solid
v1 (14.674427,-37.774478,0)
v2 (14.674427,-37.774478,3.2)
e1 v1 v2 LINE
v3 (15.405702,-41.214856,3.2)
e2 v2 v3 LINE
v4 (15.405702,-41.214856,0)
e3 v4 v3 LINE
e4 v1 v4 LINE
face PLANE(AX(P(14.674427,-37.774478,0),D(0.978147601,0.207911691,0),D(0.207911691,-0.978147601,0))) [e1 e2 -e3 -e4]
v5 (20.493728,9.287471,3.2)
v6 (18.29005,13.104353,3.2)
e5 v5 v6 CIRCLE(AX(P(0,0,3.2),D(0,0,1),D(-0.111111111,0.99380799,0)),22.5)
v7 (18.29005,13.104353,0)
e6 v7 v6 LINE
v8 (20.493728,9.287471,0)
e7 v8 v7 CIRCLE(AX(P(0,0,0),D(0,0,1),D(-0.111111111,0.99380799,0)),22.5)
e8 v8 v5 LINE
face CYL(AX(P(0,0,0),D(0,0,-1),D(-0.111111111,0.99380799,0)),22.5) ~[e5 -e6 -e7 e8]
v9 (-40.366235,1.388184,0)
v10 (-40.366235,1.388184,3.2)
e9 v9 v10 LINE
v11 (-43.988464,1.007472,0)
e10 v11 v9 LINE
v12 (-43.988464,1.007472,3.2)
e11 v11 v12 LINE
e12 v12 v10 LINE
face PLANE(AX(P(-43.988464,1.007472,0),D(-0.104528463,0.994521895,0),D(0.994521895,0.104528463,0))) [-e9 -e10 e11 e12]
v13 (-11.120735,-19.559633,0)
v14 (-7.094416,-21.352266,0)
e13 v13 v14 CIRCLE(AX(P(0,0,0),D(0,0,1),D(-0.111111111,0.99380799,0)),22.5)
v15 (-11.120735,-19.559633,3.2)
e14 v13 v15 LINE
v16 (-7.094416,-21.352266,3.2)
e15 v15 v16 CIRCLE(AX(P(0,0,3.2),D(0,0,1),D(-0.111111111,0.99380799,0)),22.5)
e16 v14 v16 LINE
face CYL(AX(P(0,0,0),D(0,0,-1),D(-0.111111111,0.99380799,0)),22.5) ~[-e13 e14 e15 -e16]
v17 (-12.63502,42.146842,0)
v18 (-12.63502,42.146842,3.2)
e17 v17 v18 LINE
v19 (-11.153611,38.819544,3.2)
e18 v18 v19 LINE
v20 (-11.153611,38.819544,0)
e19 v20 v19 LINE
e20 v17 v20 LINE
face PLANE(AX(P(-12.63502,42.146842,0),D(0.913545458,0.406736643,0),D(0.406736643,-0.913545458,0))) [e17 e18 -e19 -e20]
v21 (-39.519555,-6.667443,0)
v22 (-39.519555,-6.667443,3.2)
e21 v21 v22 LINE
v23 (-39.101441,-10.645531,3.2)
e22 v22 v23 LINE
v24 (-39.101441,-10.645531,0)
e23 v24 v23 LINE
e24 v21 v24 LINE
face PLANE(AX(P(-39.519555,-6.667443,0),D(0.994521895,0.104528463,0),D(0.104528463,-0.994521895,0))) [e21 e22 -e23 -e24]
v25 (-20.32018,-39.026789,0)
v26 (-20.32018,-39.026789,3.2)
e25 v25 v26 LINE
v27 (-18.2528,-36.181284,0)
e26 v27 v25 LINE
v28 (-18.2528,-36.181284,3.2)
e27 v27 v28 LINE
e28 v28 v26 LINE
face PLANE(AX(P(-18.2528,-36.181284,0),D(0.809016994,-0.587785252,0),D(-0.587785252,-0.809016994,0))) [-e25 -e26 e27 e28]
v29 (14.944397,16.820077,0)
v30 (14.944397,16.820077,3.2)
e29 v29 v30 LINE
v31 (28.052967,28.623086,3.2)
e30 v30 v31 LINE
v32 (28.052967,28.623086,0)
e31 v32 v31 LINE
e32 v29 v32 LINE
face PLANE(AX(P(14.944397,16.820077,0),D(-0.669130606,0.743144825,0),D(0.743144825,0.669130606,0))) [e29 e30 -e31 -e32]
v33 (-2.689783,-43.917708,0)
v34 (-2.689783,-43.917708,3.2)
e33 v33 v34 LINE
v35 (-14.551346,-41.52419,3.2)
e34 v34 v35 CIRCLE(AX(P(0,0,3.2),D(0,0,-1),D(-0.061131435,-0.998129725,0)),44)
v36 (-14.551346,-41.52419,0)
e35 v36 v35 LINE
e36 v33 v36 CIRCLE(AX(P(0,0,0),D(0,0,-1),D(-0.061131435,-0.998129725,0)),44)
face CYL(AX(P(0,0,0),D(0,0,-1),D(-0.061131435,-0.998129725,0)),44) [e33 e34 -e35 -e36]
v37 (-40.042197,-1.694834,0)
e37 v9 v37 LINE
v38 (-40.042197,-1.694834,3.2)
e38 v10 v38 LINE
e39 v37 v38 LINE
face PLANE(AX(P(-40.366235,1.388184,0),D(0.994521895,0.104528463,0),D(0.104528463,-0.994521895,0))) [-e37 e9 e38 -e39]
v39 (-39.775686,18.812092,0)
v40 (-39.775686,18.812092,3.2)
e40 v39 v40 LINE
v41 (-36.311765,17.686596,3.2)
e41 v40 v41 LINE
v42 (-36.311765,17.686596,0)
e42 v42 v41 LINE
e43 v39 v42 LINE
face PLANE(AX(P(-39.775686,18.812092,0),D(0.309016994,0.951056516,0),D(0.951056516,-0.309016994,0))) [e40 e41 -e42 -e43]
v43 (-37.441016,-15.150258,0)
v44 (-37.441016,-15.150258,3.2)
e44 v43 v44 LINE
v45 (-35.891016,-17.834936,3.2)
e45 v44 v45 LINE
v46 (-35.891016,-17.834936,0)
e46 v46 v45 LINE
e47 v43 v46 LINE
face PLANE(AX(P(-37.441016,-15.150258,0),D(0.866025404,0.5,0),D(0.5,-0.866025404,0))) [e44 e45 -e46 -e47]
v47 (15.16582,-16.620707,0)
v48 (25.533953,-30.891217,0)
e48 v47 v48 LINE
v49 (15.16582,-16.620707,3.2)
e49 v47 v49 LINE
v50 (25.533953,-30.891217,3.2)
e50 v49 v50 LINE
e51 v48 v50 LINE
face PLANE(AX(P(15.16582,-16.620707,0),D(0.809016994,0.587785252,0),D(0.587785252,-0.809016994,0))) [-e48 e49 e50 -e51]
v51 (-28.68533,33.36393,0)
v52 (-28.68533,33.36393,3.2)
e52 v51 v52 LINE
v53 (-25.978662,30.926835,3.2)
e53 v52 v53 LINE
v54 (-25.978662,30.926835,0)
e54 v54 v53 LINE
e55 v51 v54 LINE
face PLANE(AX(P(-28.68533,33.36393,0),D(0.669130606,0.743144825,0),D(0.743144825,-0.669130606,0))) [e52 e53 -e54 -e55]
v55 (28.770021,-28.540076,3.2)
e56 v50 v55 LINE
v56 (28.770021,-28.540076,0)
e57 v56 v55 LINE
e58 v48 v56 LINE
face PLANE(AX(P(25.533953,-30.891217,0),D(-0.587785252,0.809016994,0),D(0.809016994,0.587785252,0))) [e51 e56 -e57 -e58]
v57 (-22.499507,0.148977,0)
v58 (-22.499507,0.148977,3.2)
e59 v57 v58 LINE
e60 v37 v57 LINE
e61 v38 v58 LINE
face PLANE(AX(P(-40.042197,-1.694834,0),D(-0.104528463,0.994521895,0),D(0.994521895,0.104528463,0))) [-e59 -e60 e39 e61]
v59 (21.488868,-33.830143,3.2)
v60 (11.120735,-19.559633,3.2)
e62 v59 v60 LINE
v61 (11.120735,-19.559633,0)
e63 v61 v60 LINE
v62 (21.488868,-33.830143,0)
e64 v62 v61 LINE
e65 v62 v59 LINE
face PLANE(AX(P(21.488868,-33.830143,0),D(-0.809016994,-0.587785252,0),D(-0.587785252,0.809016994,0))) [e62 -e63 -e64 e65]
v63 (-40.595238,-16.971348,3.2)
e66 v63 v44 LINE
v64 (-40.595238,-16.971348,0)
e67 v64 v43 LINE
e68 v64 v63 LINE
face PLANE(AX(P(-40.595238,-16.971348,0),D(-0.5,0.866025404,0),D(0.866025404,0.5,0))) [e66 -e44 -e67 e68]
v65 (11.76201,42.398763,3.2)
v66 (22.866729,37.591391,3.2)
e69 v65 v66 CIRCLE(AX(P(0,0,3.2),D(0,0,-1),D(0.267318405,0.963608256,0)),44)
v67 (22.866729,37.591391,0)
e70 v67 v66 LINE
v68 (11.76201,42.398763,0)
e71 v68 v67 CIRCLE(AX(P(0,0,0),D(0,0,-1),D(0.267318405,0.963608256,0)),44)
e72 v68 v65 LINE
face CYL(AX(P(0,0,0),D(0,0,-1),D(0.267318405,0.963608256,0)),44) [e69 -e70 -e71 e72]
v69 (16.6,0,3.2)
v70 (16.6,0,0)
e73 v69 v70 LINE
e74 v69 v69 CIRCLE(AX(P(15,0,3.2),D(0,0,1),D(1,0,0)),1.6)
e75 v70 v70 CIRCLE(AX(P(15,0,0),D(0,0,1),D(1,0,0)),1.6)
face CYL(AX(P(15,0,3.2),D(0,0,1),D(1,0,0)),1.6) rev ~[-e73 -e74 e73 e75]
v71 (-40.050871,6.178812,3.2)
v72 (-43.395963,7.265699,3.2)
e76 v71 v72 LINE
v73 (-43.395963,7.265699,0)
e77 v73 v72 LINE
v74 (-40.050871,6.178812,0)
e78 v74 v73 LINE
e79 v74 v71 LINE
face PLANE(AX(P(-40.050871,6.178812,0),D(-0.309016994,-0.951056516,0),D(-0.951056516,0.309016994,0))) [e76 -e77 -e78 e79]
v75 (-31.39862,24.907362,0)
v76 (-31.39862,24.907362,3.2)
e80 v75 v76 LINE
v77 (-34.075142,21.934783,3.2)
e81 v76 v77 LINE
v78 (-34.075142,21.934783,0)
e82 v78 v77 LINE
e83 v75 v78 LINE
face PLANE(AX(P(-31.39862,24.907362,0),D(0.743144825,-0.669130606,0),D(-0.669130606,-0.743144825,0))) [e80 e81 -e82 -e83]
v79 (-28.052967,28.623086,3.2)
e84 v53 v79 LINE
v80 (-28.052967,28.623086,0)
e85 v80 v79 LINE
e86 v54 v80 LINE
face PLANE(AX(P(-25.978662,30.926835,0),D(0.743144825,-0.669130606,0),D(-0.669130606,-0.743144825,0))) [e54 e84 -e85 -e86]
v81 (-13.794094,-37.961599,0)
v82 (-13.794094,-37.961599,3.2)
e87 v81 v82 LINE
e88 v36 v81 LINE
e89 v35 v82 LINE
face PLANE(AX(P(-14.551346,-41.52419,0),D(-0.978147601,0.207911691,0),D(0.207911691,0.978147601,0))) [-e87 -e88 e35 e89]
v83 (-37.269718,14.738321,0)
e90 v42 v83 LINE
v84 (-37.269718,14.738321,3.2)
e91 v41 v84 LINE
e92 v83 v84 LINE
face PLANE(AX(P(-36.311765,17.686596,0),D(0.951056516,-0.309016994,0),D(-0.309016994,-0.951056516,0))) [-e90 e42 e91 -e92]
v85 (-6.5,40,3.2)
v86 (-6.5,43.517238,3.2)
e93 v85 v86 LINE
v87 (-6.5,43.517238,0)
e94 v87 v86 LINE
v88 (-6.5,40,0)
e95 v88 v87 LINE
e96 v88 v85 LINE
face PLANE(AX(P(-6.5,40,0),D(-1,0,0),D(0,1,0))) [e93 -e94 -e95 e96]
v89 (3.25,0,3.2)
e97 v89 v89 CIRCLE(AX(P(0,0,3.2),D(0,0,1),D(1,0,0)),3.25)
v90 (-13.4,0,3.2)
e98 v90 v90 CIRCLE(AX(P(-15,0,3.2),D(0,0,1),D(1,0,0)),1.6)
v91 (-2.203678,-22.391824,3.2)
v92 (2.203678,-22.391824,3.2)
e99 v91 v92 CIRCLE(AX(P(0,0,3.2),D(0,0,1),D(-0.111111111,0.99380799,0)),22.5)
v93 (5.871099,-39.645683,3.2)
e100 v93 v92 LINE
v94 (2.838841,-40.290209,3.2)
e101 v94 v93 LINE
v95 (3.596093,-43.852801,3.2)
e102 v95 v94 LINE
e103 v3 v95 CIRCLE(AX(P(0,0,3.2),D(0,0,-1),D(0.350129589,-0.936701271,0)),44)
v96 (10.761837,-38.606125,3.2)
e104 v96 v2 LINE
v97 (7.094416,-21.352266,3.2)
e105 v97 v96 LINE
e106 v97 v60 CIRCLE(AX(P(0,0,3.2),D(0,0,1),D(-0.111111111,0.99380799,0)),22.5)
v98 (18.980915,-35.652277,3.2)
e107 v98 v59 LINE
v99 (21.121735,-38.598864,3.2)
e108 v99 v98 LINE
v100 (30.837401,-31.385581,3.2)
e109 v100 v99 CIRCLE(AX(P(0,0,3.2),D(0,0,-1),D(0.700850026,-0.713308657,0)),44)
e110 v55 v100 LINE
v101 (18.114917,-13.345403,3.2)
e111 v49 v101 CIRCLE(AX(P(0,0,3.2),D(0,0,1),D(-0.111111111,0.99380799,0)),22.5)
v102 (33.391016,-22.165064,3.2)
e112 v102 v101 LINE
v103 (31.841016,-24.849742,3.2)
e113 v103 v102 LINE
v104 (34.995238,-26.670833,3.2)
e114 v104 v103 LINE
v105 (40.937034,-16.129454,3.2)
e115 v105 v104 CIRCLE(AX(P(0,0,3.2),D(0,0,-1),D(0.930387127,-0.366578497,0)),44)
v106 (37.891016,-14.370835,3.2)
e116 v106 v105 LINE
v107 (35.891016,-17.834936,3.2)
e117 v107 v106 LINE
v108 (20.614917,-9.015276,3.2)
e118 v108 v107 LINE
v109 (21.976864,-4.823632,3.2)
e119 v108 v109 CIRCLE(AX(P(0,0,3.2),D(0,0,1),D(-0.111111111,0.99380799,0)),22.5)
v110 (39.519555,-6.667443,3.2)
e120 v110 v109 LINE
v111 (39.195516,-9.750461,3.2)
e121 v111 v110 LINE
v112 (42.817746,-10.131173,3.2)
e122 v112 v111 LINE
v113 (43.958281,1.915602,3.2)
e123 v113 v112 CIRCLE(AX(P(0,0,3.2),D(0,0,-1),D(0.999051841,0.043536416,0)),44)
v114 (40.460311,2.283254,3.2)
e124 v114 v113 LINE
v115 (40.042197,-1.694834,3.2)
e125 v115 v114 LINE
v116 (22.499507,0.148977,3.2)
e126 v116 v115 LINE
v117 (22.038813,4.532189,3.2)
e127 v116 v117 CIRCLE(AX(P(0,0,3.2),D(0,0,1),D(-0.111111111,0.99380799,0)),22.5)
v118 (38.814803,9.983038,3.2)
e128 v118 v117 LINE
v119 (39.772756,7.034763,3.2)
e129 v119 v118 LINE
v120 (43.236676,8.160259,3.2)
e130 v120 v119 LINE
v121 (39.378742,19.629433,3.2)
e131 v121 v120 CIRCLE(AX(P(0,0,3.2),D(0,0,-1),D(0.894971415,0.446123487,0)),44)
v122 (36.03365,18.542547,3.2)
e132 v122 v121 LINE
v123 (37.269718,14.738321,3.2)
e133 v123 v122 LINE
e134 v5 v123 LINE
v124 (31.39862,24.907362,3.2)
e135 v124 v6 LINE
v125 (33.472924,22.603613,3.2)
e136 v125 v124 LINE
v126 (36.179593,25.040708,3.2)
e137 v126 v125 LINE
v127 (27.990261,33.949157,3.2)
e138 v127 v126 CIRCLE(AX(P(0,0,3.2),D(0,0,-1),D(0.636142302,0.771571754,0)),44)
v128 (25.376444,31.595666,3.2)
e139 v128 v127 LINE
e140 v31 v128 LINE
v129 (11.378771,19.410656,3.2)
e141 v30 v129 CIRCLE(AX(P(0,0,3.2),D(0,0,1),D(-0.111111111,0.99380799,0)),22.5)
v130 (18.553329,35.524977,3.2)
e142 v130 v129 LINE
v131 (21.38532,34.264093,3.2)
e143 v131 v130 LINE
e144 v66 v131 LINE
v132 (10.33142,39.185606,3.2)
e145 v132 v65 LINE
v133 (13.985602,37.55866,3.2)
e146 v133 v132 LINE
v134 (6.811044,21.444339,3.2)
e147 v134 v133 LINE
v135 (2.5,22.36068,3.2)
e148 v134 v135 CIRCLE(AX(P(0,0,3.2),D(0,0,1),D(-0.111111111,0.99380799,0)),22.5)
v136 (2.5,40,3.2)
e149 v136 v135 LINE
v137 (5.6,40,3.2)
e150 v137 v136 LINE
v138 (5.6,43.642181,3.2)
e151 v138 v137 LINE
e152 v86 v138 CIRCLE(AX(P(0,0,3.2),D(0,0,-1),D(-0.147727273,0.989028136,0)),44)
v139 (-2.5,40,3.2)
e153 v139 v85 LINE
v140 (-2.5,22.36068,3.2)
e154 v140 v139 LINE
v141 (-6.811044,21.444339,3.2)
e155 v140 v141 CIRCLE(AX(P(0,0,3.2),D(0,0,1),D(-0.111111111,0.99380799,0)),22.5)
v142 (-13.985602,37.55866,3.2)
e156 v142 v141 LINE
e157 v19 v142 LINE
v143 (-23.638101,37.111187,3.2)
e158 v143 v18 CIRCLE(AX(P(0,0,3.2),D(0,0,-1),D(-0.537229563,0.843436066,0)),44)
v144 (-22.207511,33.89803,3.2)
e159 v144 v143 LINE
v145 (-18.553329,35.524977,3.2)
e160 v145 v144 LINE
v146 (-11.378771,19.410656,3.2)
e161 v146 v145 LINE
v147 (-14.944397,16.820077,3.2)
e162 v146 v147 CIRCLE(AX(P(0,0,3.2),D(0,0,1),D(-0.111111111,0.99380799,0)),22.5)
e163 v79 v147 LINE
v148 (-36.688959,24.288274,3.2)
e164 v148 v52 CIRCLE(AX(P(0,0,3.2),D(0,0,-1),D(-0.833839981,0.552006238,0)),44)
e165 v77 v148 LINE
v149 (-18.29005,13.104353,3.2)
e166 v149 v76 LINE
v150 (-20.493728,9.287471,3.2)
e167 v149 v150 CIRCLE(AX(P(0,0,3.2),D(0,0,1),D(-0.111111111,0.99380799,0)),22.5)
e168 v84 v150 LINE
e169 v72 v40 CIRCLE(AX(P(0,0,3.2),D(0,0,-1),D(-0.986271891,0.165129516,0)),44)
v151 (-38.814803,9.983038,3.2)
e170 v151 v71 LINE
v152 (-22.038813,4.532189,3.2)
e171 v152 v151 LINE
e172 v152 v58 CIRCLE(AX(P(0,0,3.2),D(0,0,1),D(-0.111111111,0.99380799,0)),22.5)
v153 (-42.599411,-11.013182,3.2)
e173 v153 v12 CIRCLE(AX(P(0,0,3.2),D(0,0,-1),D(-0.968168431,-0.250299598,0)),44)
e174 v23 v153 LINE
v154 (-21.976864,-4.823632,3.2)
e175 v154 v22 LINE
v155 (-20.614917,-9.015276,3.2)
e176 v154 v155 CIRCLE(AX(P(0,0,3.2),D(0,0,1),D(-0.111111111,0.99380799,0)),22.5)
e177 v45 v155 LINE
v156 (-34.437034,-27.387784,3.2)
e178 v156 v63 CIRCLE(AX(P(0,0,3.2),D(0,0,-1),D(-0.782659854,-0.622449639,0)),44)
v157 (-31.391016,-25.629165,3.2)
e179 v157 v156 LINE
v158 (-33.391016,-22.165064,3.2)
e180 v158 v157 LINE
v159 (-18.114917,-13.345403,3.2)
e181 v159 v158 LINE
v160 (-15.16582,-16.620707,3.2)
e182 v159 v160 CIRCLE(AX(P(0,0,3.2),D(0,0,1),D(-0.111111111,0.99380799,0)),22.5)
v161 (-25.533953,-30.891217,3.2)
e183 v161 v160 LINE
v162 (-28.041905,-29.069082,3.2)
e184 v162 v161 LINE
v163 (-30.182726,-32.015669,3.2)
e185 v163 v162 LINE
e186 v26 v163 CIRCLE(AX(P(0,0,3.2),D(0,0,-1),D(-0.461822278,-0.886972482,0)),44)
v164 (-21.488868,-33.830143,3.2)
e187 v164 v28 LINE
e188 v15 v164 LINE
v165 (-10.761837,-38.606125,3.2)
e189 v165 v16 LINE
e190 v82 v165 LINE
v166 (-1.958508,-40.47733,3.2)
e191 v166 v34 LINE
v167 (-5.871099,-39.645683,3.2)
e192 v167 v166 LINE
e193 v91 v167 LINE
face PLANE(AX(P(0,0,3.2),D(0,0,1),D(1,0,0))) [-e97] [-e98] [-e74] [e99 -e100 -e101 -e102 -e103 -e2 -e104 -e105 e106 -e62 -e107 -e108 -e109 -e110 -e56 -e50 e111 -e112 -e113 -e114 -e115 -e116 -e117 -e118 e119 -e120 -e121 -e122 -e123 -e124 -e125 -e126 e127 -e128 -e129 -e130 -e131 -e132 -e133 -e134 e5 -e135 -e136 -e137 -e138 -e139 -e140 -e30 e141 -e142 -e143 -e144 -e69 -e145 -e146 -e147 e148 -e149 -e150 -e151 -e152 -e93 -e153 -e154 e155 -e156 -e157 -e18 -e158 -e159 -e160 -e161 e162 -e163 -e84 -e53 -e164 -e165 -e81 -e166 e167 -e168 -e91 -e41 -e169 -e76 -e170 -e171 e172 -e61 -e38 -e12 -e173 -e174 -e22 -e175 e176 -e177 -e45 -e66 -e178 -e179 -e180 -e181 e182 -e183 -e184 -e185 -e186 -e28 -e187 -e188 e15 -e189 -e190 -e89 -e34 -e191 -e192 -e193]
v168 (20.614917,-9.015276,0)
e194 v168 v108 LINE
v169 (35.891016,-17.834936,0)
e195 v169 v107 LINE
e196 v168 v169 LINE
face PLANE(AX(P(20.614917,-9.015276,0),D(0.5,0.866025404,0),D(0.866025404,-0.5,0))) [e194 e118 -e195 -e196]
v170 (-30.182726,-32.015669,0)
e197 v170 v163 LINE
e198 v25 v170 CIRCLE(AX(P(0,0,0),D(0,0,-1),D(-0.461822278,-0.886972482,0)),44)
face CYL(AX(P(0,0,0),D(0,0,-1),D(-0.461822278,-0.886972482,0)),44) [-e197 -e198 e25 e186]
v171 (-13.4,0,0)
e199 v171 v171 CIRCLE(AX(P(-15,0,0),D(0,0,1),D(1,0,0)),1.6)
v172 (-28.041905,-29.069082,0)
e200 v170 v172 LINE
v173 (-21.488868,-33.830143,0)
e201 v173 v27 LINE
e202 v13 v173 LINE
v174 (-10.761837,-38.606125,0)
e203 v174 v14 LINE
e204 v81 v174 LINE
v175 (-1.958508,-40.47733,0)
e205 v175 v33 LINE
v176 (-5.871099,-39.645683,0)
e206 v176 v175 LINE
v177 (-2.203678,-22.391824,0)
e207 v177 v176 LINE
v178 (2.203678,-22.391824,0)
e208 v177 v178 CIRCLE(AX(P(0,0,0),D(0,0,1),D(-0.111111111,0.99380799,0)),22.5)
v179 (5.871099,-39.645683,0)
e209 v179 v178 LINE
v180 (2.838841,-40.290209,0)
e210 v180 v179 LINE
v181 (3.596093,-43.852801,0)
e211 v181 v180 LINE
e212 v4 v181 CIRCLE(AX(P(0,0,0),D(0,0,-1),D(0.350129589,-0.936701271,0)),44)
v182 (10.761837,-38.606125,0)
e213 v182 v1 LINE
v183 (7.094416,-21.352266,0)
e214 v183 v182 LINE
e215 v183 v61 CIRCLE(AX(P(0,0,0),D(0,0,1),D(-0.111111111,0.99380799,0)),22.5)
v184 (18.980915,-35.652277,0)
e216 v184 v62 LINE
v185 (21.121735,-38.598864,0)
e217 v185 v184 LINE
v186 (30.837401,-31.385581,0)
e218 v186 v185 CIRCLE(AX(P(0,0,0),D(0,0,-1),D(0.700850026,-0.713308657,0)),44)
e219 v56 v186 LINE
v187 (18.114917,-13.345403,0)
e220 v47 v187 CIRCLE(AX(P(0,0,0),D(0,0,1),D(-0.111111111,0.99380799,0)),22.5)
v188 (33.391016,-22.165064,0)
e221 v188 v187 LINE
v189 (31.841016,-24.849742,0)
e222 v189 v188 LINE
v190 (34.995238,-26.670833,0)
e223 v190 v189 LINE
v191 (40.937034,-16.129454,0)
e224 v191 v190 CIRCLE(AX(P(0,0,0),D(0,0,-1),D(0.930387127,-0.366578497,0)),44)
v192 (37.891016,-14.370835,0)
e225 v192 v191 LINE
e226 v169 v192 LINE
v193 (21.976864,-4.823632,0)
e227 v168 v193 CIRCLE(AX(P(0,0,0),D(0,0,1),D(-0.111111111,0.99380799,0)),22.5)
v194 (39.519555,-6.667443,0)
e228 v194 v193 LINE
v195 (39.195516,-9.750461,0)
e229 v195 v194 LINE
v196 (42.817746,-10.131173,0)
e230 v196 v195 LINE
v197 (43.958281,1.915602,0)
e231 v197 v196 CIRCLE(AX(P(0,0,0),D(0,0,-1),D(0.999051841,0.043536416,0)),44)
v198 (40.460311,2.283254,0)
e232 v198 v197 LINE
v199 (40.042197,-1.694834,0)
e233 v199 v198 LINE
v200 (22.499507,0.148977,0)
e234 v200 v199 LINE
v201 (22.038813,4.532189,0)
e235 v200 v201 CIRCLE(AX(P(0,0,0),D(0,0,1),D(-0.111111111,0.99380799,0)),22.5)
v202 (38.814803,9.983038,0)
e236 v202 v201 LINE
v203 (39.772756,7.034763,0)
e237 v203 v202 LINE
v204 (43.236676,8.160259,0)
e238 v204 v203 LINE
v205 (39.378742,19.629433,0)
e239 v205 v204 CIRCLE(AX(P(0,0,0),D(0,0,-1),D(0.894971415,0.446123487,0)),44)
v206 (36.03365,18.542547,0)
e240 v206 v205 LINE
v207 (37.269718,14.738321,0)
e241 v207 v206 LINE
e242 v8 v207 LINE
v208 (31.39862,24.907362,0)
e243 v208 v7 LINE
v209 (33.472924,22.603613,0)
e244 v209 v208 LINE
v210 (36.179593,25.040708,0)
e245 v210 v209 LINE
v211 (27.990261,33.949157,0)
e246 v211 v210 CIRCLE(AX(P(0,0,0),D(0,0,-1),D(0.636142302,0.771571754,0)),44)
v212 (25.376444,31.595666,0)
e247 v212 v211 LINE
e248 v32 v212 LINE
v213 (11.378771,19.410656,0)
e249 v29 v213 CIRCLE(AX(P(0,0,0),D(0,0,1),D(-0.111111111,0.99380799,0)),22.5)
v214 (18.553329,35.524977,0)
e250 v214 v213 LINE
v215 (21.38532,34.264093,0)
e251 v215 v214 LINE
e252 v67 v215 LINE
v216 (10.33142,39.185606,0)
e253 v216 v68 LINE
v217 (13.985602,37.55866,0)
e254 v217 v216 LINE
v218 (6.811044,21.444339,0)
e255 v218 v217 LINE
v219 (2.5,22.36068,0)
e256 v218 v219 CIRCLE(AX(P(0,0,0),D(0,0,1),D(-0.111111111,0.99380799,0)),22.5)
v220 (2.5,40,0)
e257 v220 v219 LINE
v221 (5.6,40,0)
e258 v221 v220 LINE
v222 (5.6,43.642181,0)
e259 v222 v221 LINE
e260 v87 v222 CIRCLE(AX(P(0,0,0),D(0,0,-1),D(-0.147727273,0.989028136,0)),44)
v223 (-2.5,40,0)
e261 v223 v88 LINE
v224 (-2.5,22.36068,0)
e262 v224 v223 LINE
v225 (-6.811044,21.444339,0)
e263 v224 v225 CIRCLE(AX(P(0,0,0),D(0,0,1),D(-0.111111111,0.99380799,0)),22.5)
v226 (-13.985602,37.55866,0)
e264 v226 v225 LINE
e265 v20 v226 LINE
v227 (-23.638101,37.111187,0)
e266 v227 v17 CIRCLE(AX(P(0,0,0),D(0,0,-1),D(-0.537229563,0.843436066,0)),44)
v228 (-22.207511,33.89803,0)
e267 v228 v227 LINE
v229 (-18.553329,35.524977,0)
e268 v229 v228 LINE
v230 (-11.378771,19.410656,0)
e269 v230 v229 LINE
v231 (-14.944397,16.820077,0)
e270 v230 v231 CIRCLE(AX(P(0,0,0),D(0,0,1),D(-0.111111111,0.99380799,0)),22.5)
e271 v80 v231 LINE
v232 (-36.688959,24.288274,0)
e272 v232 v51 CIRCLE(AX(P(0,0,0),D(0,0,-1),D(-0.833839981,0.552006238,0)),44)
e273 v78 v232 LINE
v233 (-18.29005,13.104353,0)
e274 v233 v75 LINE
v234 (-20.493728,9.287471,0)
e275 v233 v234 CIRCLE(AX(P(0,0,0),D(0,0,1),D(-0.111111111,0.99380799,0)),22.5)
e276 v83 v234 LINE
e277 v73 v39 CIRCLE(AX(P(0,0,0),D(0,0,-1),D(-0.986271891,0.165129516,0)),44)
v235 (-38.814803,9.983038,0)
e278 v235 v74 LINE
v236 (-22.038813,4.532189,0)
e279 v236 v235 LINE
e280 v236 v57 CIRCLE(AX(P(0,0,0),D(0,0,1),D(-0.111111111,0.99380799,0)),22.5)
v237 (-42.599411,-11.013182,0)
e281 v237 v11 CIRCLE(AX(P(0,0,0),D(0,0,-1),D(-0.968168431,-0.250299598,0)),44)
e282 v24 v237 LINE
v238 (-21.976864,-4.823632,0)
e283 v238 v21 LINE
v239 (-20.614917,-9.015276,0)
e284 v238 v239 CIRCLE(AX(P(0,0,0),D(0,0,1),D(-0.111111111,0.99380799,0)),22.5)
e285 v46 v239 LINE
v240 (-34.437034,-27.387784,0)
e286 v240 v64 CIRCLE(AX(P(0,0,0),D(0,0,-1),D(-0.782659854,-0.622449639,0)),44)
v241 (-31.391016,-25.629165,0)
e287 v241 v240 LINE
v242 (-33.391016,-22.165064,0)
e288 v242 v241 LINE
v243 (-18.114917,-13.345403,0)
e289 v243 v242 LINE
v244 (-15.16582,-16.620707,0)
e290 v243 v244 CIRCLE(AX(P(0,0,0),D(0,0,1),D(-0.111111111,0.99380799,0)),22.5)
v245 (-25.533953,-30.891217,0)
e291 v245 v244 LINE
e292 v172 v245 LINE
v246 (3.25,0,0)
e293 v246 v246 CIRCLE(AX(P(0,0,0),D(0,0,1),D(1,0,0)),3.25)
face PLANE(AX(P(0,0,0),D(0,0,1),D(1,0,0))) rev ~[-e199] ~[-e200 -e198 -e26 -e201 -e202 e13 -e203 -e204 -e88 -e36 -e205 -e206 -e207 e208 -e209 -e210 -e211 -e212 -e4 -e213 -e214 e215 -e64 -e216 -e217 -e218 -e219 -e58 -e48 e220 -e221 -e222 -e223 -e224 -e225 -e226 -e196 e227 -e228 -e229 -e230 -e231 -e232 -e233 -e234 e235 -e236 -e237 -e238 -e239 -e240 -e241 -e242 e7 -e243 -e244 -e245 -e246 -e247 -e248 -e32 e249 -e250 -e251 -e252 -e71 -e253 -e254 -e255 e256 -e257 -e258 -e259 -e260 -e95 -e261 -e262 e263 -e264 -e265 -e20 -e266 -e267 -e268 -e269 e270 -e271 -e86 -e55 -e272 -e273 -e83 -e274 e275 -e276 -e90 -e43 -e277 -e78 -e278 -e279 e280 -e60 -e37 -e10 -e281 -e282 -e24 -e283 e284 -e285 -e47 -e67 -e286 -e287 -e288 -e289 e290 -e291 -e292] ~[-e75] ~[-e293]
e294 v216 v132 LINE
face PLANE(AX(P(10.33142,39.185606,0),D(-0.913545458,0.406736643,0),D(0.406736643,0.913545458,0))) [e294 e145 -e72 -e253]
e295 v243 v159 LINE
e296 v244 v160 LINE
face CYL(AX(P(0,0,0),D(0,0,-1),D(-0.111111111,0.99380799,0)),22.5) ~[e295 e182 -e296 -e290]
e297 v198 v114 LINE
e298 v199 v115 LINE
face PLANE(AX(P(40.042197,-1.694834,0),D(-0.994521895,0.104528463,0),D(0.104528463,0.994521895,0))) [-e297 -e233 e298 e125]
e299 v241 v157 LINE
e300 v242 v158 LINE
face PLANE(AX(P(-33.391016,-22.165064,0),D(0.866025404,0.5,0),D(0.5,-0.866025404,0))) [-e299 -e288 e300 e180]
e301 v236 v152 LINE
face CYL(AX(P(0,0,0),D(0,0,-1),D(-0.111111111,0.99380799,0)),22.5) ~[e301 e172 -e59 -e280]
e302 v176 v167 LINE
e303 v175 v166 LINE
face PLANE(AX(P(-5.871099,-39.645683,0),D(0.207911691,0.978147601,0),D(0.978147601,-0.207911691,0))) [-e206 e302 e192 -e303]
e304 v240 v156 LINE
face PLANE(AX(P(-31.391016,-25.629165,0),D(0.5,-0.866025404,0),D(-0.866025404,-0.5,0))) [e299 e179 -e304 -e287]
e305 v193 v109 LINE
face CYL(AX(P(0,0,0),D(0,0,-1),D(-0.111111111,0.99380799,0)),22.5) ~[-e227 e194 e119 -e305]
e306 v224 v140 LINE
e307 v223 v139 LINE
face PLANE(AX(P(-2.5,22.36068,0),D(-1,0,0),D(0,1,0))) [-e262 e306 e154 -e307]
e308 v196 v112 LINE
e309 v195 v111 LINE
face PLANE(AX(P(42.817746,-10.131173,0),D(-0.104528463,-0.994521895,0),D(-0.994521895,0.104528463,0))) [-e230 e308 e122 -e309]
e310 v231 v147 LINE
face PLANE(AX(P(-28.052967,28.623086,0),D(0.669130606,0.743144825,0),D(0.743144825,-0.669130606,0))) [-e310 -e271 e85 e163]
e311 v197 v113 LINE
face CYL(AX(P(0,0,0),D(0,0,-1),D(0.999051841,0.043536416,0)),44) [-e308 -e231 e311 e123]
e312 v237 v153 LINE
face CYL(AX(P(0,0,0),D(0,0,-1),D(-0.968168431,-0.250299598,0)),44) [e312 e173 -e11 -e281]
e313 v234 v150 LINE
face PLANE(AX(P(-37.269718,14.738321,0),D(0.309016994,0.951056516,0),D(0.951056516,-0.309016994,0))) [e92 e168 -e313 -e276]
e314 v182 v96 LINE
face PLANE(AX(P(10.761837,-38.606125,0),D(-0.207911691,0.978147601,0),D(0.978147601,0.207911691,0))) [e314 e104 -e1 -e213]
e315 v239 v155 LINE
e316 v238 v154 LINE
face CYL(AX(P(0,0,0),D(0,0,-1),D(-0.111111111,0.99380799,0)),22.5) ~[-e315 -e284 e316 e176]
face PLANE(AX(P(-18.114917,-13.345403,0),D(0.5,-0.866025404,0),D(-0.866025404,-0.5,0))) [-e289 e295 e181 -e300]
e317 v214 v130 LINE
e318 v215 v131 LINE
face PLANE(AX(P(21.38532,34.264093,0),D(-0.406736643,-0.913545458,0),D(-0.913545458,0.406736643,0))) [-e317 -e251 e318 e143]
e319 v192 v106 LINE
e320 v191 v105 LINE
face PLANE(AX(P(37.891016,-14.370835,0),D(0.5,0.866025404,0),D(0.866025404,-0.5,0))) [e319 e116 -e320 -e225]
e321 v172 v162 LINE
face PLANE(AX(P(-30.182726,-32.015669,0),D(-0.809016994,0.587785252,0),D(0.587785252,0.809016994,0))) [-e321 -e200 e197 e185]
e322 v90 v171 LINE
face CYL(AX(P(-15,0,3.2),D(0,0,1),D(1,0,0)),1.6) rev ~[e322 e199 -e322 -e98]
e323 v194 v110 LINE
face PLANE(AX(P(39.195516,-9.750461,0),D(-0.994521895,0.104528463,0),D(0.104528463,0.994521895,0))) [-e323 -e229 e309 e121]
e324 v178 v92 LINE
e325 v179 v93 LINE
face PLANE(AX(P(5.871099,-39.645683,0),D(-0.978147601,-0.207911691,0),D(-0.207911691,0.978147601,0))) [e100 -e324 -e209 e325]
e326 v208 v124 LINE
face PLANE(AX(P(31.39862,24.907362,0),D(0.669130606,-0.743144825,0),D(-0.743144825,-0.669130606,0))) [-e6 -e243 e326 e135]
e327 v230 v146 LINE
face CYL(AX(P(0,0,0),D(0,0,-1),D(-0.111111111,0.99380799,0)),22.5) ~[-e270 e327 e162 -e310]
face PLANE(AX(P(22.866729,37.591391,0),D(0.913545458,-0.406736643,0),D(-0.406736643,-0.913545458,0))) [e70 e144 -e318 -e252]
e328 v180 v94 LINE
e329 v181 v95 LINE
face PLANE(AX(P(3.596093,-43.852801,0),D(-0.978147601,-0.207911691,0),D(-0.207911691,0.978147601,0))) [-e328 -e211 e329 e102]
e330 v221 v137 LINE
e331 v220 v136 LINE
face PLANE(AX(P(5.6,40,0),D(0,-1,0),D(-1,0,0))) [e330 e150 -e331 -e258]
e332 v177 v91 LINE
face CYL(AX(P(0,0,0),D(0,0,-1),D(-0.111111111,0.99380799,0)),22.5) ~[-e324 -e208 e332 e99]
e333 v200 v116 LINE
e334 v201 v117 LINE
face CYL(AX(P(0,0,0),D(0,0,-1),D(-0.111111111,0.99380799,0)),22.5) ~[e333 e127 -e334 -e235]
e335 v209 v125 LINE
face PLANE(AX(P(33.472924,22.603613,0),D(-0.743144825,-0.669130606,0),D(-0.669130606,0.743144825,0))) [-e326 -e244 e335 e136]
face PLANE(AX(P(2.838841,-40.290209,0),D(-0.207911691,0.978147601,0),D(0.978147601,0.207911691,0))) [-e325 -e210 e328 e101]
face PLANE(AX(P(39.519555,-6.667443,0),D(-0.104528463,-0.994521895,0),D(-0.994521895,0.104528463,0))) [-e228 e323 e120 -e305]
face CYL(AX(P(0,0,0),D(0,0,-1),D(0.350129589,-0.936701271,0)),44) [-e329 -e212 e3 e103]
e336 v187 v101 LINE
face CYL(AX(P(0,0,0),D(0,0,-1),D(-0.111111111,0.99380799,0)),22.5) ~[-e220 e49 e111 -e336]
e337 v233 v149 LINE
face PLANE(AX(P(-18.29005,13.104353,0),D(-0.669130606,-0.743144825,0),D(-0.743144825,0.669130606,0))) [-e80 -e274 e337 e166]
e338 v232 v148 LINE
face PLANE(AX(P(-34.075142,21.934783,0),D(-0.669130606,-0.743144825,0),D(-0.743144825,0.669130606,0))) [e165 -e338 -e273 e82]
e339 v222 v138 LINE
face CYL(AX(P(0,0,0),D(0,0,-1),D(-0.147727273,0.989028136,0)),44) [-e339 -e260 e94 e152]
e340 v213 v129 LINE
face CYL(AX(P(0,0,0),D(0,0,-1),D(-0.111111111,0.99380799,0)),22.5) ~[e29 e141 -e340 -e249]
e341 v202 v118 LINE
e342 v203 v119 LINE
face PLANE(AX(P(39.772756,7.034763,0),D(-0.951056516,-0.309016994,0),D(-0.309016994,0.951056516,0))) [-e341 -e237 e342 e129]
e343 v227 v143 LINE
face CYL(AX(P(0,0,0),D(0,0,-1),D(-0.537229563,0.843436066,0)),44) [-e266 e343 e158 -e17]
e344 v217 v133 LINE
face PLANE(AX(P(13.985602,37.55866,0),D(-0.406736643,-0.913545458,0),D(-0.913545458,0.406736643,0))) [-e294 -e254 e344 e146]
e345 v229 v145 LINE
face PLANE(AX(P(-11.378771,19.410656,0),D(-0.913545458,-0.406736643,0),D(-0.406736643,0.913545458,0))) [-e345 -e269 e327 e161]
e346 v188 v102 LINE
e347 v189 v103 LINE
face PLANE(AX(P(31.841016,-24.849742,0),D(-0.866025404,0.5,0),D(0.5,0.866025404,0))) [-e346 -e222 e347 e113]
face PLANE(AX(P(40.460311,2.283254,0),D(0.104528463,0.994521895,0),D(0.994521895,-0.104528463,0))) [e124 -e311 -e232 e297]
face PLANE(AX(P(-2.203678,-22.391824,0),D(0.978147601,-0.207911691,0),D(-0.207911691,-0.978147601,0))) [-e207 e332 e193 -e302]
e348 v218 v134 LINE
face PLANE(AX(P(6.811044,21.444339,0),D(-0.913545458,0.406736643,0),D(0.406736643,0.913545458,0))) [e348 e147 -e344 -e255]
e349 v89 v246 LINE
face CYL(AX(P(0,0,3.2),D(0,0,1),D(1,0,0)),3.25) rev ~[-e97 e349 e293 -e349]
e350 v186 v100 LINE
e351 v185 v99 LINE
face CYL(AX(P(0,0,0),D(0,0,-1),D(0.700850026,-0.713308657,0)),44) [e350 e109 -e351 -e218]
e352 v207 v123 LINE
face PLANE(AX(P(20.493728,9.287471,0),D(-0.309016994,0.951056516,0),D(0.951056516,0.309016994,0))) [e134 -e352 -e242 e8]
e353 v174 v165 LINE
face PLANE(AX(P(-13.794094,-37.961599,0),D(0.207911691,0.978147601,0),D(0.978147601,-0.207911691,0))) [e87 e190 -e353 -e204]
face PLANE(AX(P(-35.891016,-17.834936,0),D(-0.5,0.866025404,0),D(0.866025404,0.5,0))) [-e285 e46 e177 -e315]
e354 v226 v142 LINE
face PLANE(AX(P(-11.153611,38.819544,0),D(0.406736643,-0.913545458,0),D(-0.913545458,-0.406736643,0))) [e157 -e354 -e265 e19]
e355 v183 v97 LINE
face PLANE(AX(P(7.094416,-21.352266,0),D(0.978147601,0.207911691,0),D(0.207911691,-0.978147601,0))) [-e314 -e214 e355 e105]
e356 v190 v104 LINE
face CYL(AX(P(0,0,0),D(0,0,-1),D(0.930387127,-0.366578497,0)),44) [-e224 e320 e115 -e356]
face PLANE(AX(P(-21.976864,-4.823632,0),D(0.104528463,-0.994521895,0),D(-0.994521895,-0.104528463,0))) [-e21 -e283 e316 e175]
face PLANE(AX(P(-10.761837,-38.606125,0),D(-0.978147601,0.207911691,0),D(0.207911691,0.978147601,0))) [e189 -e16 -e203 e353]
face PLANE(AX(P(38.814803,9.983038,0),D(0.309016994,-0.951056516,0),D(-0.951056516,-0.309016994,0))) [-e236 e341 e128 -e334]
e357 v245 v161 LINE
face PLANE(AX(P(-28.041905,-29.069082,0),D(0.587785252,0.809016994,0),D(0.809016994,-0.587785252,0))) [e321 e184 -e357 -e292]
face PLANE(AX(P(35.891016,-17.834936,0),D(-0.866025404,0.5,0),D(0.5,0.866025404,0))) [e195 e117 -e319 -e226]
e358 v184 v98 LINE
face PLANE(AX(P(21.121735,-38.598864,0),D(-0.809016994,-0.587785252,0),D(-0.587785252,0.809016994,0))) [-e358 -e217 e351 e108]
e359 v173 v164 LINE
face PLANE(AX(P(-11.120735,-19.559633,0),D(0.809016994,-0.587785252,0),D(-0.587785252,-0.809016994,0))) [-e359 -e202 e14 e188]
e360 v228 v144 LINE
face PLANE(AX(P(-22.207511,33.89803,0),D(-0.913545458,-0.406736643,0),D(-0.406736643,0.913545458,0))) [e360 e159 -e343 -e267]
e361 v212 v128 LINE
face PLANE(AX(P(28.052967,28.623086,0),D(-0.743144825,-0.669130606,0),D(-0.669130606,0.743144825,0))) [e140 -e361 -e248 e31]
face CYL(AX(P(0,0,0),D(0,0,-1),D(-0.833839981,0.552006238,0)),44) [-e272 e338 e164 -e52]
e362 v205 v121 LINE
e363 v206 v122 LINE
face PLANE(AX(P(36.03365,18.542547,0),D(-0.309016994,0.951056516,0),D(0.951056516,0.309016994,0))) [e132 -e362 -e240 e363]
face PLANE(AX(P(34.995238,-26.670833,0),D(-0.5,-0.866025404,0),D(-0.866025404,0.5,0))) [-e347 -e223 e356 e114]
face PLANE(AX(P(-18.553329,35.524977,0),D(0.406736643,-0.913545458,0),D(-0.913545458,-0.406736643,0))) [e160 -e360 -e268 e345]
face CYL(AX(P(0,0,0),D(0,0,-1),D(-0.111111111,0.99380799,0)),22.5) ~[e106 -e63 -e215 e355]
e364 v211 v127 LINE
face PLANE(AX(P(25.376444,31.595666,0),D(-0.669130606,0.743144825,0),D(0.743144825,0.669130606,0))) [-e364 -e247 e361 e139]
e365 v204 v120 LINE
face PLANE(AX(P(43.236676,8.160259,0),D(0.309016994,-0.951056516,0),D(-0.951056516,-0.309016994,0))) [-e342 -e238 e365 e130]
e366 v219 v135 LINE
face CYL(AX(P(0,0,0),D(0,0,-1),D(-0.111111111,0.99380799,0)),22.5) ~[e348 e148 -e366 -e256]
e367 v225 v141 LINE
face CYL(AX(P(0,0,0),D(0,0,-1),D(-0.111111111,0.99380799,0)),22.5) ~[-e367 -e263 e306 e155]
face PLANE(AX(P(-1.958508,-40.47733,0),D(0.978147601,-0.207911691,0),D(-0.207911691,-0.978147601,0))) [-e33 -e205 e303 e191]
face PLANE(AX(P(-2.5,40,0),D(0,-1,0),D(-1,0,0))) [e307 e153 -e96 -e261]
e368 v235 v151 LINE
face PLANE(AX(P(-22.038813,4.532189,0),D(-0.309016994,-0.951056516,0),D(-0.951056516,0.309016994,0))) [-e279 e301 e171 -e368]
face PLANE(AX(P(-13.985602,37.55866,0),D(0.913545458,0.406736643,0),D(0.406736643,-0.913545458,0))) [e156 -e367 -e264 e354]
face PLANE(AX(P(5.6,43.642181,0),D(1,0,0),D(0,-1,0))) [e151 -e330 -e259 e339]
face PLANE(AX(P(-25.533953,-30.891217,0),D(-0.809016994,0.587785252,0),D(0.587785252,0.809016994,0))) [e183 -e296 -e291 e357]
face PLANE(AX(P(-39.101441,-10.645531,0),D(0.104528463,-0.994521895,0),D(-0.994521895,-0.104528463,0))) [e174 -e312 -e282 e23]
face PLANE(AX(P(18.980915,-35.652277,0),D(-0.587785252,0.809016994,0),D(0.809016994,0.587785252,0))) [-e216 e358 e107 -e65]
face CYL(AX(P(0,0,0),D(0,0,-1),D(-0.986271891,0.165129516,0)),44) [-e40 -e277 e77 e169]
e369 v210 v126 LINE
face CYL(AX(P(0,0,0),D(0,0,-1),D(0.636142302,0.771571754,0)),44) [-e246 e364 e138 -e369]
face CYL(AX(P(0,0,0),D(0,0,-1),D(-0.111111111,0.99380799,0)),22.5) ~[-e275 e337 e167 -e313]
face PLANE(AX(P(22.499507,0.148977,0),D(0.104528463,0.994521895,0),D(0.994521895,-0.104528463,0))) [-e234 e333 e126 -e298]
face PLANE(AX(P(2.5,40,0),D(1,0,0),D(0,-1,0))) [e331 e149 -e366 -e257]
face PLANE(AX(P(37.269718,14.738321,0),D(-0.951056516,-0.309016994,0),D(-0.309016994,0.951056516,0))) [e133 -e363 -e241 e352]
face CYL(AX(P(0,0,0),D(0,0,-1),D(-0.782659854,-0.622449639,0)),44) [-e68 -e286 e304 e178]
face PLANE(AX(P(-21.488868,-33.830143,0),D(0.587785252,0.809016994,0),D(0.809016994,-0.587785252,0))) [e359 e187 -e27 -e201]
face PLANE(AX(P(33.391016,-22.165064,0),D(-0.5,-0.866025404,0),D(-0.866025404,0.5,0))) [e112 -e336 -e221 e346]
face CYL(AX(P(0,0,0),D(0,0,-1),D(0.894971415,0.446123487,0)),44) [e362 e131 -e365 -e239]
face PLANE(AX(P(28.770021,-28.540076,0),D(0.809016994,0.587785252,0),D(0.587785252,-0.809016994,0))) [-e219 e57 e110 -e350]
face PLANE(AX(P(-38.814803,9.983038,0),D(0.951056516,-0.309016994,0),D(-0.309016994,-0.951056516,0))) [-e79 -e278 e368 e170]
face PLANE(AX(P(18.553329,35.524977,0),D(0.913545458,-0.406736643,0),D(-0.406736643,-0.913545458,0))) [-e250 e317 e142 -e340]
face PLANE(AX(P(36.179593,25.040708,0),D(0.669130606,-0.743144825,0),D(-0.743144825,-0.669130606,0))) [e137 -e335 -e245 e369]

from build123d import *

# Parameters (mm, degrees)
SKETCH_1_R               = 22.5
EXTRUDE_2_DEPTH          = 3.2
PATTERN_CIRCULAR_2_COUNT = 15
SKETCH_3_R               = 3.25
CUT_EXTRUDE_2_DEPTH      = 3.2
SKETCH_5_R               = 1.6
CUT_EXTRUDE_3_DEPTH      = 10


with BuildPart() as part:
    # ｽｹｯﾁ1 → ﾎﾞｽ - 押し出し2 (new body)
    with BuildSketch(Plane.XY):
        Circle(SKETCH_1_R)
        with BuildLine():
            Line((0, 0), (-2.5, 0))
            Line((-2.5, 0), (-2.5, 40))
            Line((-2.5, 40), (-6.5, 40))
            Line((-6.5, 40), (-6.5, 43.517237964))
            ThreePointArc((-6.5, 43.517237964), (-0.454315658, 43.997654452), (5.6, 43.64218143))
            Line((5.6, 43.64218143), (5.6, 40))
            Line((5.6, 40), (2.5, 40))
            Line((2.5, 40), (2.5, 0))
            Line((2.5, 0), (0, 0))
        make_face()
    extrude_2 = extrude(amount=EXTRUDE_2_DEPTH)

    # 円形ﾊﾟﾀｰﾝ2: ﾎﾞｽ - 押し出し2 ×15 about axis
    pattern_circular_2_axis = Axis((0, 0, 0), (0, 0, 1))
    for i in range(1, PATTERN_CIRCULAR_2_COUNT):
        add(extrude_2.rotate(pattern_circular_2_axis, i * 360 / PATTERN_CIRCULAR_2_COUNT))

    # ｽｹｯﾁ3 → ｶｯﾄ - 押し出し2 (cut)
    with BuildSketch(Plane.XY.offset(3.2)):
        Circle(SKETCH_3_R)
    extrude(amount=-CUT_EXTRUDE_2_DEPTH, mode=Mode.SUBTRACT)

    # ｽｹｯﾁ5 → ｶｯﾄ - 押し出し3 (cut)
    with BuildSketch(Plane.XY.offset(3.2)):
        with Locations((-15, 0)):
            Circle(SKETCH_5_R)
        with Locations((15, 0)):
            Circle(SKETCH_5_R)
    extrude(amount=-CUT_EXTRUDE_3_DEPTH, mode=Mode.SUBTRACT)


solid = part.part
